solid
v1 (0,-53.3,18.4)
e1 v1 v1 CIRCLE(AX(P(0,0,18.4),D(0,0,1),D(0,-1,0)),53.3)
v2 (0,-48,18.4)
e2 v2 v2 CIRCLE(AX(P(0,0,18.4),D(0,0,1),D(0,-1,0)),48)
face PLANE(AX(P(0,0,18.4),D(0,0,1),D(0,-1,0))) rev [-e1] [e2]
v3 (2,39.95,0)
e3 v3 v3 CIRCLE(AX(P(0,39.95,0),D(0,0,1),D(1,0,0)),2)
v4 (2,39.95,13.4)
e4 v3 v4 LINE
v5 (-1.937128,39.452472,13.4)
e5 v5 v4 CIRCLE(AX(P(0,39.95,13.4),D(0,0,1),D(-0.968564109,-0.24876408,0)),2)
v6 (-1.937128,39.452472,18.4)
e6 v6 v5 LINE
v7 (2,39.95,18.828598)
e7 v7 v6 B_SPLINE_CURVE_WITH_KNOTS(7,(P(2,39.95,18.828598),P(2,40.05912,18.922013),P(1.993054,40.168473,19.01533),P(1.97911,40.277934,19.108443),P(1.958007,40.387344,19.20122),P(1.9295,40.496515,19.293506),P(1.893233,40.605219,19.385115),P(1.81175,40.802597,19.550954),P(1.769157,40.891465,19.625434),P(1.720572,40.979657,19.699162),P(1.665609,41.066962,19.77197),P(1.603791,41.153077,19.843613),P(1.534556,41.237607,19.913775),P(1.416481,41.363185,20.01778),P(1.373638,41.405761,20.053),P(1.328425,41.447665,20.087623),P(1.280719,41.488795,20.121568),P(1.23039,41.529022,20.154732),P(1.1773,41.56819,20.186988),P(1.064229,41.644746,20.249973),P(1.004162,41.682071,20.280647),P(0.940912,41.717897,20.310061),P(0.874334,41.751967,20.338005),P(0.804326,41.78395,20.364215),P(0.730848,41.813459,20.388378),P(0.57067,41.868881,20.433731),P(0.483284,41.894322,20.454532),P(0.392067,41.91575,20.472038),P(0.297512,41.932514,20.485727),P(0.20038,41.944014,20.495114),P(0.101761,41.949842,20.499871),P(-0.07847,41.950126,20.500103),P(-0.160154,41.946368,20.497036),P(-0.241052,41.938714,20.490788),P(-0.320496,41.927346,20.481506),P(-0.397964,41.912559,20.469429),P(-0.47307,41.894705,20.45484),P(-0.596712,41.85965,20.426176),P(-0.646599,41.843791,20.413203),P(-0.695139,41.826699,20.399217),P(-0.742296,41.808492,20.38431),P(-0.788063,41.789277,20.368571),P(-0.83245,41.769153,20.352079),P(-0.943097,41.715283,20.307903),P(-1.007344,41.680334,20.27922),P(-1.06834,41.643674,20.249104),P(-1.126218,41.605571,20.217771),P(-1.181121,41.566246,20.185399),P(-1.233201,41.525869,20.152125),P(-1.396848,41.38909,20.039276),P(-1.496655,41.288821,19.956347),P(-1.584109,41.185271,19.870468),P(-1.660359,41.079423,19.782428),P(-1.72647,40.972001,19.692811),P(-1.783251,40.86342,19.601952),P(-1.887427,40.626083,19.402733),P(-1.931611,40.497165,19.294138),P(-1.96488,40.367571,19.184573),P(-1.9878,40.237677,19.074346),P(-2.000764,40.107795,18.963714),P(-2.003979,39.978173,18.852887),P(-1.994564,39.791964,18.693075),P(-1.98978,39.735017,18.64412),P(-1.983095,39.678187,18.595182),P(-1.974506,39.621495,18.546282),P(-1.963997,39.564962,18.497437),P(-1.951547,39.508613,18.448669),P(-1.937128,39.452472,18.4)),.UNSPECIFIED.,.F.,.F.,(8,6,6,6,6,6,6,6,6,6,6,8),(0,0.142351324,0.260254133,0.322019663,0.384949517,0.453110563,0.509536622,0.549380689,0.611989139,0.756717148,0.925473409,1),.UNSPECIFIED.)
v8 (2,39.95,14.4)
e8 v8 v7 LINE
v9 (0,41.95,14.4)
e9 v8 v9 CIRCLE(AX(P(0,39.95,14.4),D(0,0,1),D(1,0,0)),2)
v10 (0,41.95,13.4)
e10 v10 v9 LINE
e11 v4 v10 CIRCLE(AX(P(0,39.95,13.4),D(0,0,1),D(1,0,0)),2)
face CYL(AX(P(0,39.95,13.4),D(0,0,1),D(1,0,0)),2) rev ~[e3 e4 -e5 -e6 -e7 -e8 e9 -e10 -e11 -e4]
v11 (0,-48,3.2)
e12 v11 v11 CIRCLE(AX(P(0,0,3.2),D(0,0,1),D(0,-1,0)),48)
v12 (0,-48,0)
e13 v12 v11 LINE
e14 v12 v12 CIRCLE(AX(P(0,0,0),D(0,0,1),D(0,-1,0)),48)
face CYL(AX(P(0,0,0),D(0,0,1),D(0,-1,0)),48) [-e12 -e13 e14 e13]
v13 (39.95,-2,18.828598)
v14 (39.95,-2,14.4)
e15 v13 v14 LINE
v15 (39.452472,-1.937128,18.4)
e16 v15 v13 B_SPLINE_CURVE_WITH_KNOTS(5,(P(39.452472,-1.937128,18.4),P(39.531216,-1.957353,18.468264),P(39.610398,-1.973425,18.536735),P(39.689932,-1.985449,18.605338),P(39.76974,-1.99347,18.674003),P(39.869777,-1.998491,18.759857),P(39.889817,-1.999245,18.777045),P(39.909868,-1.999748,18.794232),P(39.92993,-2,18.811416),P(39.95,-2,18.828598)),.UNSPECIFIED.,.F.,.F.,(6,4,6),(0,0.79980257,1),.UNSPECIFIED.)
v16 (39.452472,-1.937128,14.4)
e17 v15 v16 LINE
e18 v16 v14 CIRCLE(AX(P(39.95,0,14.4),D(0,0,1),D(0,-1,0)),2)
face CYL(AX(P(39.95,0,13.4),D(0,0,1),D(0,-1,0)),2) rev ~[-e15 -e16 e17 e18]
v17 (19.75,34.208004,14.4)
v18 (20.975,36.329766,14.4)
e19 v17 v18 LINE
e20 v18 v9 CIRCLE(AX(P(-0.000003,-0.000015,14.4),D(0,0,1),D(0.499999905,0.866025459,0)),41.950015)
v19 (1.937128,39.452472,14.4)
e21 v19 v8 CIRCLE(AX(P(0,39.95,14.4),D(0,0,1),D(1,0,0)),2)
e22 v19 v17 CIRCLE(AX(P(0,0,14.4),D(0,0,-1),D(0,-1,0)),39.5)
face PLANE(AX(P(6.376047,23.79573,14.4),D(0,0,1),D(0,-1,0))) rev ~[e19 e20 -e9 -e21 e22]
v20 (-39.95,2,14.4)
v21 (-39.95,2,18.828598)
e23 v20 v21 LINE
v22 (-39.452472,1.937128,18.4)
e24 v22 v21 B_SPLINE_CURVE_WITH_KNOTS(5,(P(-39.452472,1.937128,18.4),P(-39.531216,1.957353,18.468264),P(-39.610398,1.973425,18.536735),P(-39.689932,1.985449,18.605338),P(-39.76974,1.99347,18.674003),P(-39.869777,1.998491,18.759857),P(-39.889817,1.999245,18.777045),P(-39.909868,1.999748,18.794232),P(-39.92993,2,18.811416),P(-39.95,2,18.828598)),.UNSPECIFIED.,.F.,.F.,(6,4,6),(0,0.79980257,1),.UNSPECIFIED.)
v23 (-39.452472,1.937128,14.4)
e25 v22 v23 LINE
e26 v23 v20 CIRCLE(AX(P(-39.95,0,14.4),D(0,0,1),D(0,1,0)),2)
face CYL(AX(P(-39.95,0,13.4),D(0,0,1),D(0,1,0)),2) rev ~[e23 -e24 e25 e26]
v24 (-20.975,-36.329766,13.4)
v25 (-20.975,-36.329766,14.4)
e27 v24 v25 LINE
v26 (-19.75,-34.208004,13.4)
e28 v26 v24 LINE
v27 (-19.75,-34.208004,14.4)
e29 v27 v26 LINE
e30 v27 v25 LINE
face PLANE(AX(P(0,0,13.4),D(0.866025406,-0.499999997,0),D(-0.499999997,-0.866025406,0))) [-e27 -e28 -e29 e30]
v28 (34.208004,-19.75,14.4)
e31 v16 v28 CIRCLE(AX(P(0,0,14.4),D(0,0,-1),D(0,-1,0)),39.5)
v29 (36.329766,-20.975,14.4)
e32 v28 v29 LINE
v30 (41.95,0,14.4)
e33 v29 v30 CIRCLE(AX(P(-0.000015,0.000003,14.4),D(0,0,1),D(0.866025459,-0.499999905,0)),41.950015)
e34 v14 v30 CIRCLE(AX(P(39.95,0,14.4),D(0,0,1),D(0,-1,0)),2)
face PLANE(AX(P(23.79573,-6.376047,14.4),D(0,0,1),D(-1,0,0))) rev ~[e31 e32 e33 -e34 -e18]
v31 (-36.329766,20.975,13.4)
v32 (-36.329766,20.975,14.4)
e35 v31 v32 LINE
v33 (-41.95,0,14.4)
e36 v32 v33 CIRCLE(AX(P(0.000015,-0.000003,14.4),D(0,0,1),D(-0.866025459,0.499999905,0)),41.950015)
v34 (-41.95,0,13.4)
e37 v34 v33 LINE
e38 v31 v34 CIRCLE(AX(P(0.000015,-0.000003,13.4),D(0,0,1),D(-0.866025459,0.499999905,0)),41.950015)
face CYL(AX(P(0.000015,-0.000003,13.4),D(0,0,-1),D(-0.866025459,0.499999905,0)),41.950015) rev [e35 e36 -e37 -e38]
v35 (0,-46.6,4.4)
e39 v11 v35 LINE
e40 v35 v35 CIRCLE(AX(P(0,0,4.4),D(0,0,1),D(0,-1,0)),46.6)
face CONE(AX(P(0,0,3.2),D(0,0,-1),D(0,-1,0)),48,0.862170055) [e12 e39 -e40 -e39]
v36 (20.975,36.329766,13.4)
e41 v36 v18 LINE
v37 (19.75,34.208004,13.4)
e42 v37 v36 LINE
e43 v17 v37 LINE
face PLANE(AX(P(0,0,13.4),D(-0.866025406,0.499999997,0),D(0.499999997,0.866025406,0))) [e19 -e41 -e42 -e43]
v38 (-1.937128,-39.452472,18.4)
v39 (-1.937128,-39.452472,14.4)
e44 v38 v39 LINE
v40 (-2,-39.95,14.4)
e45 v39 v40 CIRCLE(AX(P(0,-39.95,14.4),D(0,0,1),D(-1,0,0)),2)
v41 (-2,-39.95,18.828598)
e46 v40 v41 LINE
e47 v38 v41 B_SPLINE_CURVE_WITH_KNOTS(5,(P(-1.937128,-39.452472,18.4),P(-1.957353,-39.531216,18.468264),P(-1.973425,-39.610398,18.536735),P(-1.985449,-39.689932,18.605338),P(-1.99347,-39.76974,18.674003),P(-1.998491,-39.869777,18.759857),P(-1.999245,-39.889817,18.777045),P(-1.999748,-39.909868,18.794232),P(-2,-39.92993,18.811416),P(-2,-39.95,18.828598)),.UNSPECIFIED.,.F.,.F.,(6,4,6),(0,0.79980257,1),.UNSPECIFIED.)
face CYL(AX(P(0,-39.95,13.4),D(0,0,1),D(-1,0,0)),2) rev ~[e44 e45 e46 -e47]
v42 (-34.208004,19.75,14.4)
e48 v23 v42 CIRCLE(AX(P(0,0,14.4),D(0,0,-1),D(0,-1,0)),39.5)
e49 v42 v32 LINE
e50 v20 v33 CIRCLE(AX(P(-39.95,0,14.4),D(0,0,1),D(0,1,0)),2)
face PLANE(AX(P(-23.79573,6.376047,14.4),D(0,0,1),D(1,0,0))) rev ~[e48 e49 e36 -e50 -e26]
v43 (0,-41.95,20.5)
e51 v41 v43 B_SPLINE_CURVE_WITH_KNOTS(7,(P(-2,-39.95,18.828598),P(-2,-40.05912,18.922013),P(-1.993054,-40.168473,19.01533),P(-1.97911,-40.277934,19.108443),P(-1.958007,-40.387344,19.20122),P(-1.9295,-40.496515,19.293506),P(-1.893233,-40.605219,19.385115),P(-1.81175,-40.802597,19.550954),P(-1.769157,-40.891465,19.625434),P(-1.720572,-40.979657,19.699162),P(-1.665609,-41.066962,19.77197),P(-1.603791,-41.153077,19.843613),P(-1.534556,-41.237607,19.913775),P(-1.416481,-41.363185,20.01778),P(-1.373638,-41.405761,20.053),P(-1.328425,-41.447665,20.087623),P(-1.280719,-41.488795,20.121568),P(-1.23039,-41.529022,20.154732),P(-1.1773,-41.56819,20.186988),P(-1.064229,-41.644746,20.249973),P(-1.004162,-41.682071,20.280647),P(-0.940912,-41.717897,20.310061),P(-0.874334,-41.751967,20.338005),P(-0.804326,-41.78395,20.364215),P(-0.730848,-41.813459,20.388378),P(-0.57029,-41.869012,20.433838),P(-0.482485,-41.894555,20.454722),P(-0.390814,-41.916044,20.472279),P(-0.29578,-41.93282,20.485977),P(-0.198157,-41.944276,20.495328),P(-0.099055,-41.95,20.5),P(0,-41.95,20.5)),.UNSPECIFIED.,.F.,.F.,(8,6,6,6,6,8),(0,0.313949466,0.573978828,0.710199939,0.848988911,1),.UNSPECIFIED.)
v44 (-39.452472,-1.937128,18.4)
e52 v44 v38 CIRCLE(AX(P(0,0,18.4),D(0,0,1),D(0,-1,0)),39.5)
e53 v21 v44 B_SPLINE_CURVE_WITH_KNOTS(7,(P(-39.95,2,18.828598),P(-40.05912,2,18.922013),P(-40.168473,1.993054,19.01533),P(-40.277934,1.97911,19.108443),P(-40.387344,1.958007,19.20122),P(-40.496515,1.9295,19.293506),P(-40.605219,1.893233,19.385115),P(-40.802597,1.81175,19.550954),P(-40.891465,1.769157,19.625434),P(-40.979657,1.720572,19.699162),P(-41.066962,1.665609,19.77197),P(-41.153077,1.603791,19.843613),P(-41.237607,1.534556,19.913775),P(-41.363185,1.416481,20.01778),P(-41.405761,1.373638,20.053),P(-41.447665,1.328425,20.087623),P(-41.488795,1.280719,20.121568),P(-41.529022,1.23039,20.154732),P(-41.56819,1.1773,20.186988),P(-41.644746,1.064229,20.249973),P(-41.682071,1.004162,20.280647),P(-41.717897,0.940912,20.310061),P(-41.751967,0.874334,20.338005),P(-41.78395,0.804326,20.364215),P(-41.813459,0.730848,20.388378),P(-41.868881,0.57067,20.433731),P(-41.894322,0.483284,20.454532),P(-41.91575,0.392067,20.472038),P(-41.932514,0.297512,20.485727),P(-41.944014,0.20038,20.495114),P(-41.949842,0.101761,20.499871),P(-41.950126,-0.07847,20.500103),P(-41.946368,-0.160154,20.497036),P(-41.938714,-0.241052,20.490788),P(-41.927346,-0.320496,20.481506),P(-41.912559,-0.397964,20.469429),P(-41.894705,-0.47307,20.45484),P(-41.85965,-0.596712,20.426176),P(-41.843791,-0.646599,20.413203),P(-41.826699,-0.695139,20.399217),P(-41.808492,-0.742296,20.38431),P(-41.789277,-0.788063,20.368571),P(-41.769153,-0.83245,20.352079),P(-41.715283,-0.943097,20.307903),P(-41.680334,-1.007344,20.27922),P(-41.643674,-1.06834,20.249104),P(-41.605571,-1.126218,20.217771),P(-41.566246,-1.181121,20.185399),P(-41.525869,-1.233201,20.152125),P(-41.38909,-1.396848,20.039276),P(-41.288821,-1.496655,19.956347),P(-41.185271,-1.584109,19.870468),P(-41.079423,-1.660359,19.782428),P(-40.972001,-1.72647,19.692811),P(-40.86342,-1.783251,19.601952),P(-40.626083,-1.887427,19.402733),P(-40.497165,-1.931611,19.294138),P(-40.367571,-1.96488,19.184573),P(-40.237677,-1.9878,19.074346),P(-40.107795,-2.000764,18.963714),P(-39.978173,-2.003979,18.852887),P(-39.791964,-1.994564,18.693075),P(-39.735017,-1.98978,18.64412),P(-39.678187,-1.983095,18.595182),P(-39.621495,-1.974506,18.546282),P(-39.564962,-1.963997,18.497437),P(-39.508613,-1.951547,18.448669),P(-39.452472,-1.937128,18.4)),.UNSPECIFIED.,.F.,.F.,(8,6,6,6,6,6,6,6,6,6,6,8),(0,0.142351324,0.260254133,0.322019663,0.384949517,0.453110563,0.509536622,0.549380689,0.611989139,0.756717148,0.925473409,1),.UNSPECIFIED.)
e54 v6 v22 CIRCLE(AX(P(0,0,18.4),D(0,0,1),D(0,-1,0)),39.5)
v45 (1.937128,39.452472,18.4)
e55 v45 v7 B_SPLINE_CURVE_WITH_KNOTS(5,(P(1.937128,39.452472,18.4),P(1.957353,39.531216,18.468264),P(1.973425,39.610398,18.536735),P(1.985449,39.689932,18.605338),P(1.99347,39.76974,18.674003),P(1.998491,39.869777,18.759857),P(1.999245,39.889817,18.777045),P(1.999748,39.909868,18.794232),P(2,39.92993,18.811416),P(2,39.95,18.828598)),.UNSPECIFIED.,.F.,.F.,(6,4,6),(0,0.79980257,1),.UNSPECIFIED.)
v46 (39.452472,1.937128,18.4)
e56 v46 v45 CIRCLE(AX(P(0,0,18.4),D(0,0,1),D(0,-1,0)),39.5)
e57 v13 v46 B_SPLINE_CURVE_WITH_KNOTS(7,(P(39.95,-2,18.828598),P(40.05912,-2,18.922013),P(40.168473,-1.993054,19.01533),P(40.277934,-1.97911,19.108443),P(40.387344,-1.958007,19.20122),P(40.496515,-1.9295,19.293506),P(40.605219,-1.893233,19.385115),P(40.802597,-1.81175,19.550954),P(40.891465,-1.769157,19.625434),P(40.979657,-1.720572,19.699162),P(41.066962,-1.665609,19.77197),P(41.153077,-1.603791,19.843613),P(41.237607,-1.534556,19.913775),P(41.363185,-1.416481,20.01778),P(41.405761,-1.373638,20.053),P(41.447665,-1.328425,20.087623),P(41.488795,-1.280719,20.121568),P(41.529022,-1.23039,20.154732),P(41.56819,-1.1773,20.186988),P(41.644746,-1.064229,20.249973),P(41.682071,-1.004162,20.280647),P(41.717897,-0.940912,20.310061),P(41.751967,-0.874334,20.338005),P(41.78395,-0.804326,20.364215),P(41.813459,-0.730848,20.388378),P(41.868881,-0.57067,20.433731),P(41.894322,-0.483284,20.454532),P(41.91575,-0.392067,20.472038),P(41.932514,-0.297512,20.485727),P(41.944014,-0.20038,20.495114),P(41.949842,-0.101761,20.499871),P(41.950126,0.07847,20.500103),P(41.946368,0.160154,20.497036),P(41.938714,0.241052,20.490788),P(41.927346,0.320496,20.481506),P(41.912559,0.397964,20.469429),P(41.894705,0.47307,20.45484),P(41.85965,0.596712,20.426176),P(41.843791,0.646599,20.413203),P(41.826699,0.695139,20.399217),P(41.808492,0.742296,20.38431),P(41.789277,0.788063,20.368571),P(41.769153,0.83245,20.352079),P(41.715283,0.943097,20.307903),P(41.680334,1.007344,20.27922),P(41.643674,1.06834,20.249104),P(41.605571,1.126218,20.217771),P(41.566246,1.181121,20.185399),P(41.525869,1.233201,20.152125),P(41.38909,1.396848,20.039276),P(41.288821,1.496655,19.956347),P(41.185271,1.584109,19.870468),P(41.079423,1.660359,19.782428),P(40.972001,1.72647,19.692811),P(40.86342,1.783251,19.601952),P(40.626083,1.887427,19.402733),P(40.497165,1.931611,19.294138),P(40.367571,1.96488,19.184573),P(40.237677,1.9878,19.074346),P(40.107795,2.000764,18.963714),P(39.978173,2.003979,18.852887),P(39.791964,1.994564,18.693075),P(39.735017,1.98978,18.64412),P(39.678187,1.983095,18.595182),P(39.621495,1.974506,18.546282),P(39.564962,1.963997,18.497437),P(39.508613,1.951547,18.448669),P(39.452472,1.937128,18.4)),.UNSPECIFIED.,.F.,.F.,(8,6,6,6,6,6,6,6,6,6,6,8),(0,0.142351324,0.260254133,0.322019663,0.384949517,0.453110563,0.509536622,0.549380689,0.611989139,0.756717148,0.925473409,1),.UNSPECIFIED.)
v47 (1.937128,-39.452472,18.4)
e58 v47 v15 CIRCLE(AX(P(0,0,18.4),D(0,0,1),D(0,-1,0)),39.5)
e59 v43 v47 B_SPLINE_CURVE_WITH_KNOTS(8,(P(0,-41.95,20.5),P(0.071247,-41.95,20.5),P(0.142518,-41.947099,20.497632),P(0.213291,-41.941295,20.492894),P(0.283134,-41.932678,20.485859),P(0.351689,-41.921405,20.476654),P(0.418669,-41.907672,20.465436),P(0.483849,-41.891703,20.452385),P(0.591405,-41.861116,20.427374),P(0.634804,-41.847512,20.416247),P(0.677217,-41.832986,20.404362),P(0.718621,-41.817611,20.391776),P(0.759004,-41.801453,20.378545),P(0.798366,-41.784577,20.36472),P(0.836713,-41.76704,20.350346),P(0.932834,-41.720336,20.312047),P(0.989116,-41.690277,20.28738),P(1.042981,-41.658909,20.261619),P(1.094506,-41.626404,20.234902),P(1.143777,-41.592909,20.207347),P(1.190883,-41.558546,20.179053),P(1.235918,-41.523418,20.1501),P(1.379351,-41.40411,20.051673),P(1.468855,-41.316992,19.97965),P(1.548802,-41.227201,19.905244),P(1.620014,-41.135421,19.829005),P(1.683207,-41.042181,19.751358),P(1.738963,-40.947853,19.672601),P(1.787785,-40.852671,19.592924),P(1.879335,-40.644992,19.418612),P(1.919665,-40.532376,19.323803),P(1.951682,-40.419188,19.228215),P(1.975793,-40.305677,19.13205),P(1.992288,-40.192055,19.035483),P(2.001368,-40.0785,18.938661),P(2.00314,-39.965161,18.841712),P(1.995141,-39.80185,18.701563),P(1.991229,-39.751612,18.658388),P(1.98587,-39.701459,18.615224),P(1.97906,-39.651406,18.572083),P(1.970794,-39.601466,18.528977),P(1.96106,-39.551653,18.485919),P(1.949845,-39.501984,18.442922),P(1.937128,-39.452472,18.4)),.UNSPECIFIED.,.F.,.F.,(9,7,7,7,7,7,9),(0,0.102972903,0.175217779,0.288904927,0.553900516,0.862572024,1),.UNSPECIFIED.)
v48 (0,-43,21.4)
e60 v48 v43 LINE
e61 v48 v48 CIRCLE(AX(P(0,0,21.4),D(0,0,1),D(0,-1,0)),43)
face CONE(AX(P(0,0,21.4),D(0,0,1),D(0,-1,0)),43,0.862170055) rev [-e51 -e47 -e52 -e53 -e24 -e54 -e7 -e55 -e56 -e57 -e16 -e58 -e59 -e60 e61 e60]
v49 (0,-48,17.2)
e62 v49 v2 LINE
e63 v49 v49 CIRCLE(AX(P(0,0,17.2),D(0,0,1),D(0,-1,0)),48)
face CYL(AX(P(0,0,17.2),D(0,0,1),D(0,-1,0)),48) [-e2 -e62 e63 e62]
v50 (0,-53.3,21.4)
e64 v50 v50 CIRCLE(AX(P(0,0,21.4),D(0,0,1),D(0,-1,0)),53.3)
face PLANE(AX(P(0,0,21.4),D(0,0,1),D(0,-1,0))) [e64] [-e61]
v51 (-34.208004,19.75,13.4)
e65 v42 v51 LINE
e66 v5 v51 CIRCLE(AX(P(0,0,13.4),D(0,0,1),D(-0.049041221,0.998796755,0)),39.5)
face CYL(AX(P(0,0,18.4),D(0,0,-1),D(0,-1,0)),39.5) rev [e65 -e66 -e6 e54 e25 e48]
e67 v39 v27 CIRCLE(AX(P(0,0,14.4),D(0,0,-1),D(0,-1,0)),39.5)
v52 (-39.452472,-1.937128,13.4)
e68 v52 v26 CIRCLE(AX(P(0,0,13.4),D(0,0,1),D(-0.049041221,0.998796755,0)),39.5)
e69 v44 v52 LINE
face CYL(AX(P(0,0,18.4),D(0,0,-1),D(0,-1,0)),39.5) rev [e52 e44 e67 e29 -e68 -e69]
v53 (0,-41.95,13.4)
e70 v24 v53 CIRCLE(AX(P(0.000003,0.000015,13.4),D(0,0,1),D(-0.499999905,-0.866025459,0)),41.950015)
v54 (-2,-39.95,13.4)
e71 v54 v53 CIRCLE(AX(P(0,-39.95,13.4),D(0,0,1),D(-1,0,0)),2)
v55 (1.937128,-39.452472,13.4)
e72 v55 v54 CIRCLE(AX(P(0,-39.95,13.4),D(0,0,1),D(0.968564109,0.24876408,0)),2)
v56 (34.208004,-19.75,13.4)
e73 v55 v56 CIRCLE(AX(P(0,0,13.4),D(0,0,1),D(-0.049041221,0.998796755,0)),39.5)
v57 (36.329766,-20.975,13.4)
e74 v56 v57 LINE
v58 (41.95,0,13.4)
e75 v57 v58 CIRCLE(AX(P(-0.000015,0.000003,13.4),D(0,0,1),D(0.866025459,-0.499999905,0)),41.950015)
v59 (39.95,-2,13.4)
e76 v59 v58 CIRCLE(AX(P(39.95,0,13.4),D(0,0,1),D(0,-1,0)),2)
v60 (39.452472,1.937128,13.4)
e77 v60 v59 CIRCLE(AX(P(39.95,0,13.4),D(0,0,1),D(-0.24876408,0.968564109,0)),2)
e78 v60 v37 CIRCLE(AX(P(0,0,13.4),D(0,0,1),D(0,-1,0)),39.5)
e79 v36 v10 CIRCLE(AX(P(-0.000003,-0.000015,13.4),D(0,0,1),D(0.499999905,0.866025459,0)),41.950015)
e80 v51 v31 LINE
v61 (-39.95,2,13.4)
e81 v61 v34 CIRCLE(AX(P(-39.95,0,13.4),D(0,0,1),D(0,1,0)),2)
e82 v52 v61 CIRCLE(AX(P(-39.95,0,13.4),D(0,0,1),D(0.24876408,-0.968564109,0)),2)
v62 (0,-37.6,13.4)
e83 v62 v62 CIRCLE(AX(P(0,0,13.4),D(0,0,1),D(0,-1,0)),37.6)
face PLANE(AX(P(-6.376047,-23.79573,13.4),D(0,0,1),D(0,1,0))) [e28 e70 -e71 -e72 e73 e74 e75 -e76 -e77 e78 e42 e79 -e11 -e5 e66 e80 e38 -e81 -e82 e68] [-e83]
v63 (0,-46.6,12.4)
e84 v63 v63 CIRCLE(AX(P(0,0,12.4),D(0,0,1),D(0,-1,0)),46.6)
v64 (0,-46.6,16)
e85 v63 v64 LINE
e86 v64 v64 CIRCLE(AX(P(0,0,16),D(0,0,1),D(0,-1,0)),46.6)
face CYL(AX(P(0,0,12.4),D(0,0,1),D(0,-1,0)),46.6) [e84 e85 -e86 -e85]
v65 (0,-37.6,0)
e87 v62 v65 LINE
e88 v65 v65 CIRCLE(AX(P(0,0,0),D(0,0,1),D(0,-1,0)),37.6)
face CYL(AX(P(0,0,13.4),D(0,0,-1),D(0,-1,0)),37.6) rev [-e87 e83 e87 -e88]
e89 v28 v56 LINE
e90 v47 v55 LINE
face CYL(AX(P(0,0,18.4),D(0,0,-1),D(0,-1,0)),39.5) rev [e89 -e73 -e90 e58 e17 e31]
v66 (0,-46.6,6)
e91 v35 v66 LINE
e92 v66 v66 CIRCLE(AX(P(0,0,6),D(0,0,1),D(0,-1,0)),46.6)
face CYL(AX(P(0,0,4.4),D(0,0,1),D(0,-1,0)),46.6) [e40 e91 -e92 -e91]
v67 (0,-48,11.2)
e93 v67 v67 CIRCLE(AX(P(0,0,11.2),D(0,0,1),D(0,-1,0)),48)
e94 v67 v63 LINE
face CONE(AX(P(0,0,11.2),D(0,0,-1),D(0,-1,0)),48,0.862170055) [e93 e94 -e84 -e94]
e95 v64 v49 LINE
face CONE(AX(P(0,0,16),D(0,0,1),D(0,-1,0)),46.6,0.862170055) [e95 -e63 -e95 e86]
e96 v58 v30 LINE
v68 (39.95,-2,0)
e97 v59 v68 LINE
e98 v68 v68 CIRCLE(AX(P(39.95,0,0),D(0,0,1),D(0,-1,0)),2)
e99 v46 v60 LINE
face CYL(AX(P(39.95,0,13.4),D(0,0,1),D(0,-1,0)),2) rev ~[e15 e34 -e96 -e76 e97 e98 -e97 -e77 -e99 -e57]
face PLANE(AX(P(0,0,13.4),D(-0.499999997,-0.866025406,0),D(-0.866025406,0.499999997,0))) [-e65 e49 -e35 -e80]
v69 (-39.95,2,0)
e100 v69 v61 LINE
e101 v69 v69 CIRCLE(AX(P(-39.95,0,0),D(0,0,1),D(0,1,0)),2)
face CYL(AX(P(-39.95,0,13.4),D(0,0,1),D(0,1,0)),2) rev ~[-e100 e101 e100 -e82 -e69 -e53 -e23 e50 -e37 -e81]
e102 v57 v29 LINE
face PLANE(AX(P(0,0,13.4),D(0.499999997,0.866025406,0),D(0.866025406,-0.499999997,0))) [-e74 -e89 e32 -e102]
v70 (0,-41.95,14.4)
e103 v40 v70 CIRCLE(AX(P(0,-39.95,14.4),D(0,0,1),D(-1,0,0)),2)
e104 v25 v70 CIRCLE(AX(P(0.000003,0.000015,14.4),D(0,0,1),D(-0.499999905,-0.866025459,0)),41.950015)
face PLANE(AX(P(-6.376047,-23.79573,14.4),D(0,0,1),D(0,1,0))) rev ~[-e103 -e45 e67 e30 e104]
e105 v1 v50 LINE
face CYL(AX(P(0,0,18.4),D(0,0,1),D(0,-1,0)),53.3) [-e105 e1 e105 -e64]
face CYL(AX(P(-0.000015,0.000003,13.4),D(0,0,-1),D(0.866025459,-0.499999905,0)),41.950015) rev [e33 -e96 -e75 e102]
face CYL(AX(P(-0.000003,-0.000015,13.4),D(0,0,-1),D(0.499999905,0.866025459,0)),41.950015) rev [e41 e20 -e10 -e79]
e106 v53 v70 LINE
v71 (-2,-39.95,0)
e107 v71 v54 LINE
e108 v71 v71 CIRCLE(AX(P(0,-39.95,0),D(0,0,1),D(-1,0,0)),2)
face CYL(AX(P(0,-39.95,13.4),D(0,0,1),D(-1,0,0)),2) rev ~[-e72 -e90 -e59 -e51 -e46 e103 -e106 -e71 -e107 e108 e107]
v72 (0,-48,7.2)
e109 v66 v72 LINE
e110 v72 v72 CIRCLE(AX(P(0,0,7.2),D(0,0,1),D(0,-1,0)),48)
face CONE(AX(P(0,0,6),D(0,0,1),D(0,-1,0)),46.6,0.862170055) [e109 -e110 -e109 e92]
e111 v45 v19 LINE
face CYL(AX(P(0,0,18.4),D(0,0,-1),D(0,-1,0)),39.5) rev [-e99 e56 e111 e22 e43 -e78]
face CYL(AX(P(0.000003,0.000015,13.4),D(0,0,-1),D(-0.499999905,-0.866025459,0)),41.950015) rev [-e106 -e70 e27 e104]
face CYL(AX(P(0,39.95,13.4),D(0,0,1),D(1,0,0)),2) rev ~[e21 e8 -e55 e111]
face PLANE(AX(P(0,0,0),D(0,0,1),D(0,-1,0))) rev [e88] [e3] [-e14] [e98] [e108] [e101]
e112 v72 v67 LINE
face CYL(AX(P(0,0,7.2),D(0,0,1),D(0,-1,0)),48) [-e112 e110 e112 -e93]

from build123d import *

# Parameters (mm, degrees)
SKETCH001_R           = 2
POCKET_DEPTH          = 317.933954
POCKET_DEPTH_BACK     = 312.533954
POLARPATTERN_COUNT    = 4
POCKET001_DEPTH       = 1
POLARPATTERN001_COUNT = 4


with BuildPart() as part:
    # Sketch → Revolution (revolve)
    with BuildSketch(Plane.YZ):
        Polygon((-37.6, 0), (-48, 0), (-48, 3.2), (-46.6, 4.4), (-46.6, 6), (-48, 7.2), (-48, 11.2), (-46.6, 12.4), (-46.6, 16), (-48, 17.2), (-48, 18.4), (-53.3, 18.4), (-53.3, 21.4), (-43, 21.4), (-39.5, 18.4), (-39.5, 13.4), (-37.6, 13.4), align=None)
    revolve(axis=Axis((0, 0, 0), (0, 0, 1)))

    # Sketch001 (on Face16 of Revolution) → Pocket (cut, two sides)
    with BuildSketch(Plane(origin=(0, 0, 13.4), x_dir=(0, -1, 0), z_dir=(0, 0, 1))) as pocket_sk:
        with Locations((0, 39.95)):
            Circle(SKETCH001_R)
    pocket = extrude(amount=-POCKET_DEPTH, mode=Mode.SUBTRACT) + extrude(pocket_sk.sketch, amount=POCKET_DEPTH_BACK, mode=Mode.SUBTRACT)

    # PolarPattern: Pocket ×4 about axis
    polarpattern_axis = Axis((0, 0, 13.4), (0, 0, 1))
    for i in range(1, POLARPATTERN_COUNT):
        add(pocket.rotate(polarpattern_axis, i * 360 / POLARPATTERN_COUNT), mode=Mode.SUBTRACT)

    # Sketch002 (on Face11 of PolarPattern) → Pocket001 (cut)
    with BuildSketch(Plane(origin=(0, 0, 13.4), x_dir=(0, -1, 0), z_dir=(0, 0, 1))):
        with BuildLine():
            Line((-41.95, 0), (0, 0))
            Line((0, 0), (-36.329766, 20.975))
            ThreePointArc((-36.329766, 20.975), (-40.520588, 10.857459), (-41.95, 0))
        make_face()
    pocket001 = extrude(amount=POCKET001_DEPTH, mode=Mode.SUBTRACT)

    # PolarPattern001: Pocket001 ×4 about axis
    polarpattern001_axis = Axis((0, 0, 13.4), (0, 0, 1))
    for i in range(1, POLARPATTERN001_COUNT):
        add(pocket001.rotate(polarpattern001_axis, i * 360 / POLARPATTERN001_COUNT), mode=Mode.SUBTRACT)


solid = part.part
